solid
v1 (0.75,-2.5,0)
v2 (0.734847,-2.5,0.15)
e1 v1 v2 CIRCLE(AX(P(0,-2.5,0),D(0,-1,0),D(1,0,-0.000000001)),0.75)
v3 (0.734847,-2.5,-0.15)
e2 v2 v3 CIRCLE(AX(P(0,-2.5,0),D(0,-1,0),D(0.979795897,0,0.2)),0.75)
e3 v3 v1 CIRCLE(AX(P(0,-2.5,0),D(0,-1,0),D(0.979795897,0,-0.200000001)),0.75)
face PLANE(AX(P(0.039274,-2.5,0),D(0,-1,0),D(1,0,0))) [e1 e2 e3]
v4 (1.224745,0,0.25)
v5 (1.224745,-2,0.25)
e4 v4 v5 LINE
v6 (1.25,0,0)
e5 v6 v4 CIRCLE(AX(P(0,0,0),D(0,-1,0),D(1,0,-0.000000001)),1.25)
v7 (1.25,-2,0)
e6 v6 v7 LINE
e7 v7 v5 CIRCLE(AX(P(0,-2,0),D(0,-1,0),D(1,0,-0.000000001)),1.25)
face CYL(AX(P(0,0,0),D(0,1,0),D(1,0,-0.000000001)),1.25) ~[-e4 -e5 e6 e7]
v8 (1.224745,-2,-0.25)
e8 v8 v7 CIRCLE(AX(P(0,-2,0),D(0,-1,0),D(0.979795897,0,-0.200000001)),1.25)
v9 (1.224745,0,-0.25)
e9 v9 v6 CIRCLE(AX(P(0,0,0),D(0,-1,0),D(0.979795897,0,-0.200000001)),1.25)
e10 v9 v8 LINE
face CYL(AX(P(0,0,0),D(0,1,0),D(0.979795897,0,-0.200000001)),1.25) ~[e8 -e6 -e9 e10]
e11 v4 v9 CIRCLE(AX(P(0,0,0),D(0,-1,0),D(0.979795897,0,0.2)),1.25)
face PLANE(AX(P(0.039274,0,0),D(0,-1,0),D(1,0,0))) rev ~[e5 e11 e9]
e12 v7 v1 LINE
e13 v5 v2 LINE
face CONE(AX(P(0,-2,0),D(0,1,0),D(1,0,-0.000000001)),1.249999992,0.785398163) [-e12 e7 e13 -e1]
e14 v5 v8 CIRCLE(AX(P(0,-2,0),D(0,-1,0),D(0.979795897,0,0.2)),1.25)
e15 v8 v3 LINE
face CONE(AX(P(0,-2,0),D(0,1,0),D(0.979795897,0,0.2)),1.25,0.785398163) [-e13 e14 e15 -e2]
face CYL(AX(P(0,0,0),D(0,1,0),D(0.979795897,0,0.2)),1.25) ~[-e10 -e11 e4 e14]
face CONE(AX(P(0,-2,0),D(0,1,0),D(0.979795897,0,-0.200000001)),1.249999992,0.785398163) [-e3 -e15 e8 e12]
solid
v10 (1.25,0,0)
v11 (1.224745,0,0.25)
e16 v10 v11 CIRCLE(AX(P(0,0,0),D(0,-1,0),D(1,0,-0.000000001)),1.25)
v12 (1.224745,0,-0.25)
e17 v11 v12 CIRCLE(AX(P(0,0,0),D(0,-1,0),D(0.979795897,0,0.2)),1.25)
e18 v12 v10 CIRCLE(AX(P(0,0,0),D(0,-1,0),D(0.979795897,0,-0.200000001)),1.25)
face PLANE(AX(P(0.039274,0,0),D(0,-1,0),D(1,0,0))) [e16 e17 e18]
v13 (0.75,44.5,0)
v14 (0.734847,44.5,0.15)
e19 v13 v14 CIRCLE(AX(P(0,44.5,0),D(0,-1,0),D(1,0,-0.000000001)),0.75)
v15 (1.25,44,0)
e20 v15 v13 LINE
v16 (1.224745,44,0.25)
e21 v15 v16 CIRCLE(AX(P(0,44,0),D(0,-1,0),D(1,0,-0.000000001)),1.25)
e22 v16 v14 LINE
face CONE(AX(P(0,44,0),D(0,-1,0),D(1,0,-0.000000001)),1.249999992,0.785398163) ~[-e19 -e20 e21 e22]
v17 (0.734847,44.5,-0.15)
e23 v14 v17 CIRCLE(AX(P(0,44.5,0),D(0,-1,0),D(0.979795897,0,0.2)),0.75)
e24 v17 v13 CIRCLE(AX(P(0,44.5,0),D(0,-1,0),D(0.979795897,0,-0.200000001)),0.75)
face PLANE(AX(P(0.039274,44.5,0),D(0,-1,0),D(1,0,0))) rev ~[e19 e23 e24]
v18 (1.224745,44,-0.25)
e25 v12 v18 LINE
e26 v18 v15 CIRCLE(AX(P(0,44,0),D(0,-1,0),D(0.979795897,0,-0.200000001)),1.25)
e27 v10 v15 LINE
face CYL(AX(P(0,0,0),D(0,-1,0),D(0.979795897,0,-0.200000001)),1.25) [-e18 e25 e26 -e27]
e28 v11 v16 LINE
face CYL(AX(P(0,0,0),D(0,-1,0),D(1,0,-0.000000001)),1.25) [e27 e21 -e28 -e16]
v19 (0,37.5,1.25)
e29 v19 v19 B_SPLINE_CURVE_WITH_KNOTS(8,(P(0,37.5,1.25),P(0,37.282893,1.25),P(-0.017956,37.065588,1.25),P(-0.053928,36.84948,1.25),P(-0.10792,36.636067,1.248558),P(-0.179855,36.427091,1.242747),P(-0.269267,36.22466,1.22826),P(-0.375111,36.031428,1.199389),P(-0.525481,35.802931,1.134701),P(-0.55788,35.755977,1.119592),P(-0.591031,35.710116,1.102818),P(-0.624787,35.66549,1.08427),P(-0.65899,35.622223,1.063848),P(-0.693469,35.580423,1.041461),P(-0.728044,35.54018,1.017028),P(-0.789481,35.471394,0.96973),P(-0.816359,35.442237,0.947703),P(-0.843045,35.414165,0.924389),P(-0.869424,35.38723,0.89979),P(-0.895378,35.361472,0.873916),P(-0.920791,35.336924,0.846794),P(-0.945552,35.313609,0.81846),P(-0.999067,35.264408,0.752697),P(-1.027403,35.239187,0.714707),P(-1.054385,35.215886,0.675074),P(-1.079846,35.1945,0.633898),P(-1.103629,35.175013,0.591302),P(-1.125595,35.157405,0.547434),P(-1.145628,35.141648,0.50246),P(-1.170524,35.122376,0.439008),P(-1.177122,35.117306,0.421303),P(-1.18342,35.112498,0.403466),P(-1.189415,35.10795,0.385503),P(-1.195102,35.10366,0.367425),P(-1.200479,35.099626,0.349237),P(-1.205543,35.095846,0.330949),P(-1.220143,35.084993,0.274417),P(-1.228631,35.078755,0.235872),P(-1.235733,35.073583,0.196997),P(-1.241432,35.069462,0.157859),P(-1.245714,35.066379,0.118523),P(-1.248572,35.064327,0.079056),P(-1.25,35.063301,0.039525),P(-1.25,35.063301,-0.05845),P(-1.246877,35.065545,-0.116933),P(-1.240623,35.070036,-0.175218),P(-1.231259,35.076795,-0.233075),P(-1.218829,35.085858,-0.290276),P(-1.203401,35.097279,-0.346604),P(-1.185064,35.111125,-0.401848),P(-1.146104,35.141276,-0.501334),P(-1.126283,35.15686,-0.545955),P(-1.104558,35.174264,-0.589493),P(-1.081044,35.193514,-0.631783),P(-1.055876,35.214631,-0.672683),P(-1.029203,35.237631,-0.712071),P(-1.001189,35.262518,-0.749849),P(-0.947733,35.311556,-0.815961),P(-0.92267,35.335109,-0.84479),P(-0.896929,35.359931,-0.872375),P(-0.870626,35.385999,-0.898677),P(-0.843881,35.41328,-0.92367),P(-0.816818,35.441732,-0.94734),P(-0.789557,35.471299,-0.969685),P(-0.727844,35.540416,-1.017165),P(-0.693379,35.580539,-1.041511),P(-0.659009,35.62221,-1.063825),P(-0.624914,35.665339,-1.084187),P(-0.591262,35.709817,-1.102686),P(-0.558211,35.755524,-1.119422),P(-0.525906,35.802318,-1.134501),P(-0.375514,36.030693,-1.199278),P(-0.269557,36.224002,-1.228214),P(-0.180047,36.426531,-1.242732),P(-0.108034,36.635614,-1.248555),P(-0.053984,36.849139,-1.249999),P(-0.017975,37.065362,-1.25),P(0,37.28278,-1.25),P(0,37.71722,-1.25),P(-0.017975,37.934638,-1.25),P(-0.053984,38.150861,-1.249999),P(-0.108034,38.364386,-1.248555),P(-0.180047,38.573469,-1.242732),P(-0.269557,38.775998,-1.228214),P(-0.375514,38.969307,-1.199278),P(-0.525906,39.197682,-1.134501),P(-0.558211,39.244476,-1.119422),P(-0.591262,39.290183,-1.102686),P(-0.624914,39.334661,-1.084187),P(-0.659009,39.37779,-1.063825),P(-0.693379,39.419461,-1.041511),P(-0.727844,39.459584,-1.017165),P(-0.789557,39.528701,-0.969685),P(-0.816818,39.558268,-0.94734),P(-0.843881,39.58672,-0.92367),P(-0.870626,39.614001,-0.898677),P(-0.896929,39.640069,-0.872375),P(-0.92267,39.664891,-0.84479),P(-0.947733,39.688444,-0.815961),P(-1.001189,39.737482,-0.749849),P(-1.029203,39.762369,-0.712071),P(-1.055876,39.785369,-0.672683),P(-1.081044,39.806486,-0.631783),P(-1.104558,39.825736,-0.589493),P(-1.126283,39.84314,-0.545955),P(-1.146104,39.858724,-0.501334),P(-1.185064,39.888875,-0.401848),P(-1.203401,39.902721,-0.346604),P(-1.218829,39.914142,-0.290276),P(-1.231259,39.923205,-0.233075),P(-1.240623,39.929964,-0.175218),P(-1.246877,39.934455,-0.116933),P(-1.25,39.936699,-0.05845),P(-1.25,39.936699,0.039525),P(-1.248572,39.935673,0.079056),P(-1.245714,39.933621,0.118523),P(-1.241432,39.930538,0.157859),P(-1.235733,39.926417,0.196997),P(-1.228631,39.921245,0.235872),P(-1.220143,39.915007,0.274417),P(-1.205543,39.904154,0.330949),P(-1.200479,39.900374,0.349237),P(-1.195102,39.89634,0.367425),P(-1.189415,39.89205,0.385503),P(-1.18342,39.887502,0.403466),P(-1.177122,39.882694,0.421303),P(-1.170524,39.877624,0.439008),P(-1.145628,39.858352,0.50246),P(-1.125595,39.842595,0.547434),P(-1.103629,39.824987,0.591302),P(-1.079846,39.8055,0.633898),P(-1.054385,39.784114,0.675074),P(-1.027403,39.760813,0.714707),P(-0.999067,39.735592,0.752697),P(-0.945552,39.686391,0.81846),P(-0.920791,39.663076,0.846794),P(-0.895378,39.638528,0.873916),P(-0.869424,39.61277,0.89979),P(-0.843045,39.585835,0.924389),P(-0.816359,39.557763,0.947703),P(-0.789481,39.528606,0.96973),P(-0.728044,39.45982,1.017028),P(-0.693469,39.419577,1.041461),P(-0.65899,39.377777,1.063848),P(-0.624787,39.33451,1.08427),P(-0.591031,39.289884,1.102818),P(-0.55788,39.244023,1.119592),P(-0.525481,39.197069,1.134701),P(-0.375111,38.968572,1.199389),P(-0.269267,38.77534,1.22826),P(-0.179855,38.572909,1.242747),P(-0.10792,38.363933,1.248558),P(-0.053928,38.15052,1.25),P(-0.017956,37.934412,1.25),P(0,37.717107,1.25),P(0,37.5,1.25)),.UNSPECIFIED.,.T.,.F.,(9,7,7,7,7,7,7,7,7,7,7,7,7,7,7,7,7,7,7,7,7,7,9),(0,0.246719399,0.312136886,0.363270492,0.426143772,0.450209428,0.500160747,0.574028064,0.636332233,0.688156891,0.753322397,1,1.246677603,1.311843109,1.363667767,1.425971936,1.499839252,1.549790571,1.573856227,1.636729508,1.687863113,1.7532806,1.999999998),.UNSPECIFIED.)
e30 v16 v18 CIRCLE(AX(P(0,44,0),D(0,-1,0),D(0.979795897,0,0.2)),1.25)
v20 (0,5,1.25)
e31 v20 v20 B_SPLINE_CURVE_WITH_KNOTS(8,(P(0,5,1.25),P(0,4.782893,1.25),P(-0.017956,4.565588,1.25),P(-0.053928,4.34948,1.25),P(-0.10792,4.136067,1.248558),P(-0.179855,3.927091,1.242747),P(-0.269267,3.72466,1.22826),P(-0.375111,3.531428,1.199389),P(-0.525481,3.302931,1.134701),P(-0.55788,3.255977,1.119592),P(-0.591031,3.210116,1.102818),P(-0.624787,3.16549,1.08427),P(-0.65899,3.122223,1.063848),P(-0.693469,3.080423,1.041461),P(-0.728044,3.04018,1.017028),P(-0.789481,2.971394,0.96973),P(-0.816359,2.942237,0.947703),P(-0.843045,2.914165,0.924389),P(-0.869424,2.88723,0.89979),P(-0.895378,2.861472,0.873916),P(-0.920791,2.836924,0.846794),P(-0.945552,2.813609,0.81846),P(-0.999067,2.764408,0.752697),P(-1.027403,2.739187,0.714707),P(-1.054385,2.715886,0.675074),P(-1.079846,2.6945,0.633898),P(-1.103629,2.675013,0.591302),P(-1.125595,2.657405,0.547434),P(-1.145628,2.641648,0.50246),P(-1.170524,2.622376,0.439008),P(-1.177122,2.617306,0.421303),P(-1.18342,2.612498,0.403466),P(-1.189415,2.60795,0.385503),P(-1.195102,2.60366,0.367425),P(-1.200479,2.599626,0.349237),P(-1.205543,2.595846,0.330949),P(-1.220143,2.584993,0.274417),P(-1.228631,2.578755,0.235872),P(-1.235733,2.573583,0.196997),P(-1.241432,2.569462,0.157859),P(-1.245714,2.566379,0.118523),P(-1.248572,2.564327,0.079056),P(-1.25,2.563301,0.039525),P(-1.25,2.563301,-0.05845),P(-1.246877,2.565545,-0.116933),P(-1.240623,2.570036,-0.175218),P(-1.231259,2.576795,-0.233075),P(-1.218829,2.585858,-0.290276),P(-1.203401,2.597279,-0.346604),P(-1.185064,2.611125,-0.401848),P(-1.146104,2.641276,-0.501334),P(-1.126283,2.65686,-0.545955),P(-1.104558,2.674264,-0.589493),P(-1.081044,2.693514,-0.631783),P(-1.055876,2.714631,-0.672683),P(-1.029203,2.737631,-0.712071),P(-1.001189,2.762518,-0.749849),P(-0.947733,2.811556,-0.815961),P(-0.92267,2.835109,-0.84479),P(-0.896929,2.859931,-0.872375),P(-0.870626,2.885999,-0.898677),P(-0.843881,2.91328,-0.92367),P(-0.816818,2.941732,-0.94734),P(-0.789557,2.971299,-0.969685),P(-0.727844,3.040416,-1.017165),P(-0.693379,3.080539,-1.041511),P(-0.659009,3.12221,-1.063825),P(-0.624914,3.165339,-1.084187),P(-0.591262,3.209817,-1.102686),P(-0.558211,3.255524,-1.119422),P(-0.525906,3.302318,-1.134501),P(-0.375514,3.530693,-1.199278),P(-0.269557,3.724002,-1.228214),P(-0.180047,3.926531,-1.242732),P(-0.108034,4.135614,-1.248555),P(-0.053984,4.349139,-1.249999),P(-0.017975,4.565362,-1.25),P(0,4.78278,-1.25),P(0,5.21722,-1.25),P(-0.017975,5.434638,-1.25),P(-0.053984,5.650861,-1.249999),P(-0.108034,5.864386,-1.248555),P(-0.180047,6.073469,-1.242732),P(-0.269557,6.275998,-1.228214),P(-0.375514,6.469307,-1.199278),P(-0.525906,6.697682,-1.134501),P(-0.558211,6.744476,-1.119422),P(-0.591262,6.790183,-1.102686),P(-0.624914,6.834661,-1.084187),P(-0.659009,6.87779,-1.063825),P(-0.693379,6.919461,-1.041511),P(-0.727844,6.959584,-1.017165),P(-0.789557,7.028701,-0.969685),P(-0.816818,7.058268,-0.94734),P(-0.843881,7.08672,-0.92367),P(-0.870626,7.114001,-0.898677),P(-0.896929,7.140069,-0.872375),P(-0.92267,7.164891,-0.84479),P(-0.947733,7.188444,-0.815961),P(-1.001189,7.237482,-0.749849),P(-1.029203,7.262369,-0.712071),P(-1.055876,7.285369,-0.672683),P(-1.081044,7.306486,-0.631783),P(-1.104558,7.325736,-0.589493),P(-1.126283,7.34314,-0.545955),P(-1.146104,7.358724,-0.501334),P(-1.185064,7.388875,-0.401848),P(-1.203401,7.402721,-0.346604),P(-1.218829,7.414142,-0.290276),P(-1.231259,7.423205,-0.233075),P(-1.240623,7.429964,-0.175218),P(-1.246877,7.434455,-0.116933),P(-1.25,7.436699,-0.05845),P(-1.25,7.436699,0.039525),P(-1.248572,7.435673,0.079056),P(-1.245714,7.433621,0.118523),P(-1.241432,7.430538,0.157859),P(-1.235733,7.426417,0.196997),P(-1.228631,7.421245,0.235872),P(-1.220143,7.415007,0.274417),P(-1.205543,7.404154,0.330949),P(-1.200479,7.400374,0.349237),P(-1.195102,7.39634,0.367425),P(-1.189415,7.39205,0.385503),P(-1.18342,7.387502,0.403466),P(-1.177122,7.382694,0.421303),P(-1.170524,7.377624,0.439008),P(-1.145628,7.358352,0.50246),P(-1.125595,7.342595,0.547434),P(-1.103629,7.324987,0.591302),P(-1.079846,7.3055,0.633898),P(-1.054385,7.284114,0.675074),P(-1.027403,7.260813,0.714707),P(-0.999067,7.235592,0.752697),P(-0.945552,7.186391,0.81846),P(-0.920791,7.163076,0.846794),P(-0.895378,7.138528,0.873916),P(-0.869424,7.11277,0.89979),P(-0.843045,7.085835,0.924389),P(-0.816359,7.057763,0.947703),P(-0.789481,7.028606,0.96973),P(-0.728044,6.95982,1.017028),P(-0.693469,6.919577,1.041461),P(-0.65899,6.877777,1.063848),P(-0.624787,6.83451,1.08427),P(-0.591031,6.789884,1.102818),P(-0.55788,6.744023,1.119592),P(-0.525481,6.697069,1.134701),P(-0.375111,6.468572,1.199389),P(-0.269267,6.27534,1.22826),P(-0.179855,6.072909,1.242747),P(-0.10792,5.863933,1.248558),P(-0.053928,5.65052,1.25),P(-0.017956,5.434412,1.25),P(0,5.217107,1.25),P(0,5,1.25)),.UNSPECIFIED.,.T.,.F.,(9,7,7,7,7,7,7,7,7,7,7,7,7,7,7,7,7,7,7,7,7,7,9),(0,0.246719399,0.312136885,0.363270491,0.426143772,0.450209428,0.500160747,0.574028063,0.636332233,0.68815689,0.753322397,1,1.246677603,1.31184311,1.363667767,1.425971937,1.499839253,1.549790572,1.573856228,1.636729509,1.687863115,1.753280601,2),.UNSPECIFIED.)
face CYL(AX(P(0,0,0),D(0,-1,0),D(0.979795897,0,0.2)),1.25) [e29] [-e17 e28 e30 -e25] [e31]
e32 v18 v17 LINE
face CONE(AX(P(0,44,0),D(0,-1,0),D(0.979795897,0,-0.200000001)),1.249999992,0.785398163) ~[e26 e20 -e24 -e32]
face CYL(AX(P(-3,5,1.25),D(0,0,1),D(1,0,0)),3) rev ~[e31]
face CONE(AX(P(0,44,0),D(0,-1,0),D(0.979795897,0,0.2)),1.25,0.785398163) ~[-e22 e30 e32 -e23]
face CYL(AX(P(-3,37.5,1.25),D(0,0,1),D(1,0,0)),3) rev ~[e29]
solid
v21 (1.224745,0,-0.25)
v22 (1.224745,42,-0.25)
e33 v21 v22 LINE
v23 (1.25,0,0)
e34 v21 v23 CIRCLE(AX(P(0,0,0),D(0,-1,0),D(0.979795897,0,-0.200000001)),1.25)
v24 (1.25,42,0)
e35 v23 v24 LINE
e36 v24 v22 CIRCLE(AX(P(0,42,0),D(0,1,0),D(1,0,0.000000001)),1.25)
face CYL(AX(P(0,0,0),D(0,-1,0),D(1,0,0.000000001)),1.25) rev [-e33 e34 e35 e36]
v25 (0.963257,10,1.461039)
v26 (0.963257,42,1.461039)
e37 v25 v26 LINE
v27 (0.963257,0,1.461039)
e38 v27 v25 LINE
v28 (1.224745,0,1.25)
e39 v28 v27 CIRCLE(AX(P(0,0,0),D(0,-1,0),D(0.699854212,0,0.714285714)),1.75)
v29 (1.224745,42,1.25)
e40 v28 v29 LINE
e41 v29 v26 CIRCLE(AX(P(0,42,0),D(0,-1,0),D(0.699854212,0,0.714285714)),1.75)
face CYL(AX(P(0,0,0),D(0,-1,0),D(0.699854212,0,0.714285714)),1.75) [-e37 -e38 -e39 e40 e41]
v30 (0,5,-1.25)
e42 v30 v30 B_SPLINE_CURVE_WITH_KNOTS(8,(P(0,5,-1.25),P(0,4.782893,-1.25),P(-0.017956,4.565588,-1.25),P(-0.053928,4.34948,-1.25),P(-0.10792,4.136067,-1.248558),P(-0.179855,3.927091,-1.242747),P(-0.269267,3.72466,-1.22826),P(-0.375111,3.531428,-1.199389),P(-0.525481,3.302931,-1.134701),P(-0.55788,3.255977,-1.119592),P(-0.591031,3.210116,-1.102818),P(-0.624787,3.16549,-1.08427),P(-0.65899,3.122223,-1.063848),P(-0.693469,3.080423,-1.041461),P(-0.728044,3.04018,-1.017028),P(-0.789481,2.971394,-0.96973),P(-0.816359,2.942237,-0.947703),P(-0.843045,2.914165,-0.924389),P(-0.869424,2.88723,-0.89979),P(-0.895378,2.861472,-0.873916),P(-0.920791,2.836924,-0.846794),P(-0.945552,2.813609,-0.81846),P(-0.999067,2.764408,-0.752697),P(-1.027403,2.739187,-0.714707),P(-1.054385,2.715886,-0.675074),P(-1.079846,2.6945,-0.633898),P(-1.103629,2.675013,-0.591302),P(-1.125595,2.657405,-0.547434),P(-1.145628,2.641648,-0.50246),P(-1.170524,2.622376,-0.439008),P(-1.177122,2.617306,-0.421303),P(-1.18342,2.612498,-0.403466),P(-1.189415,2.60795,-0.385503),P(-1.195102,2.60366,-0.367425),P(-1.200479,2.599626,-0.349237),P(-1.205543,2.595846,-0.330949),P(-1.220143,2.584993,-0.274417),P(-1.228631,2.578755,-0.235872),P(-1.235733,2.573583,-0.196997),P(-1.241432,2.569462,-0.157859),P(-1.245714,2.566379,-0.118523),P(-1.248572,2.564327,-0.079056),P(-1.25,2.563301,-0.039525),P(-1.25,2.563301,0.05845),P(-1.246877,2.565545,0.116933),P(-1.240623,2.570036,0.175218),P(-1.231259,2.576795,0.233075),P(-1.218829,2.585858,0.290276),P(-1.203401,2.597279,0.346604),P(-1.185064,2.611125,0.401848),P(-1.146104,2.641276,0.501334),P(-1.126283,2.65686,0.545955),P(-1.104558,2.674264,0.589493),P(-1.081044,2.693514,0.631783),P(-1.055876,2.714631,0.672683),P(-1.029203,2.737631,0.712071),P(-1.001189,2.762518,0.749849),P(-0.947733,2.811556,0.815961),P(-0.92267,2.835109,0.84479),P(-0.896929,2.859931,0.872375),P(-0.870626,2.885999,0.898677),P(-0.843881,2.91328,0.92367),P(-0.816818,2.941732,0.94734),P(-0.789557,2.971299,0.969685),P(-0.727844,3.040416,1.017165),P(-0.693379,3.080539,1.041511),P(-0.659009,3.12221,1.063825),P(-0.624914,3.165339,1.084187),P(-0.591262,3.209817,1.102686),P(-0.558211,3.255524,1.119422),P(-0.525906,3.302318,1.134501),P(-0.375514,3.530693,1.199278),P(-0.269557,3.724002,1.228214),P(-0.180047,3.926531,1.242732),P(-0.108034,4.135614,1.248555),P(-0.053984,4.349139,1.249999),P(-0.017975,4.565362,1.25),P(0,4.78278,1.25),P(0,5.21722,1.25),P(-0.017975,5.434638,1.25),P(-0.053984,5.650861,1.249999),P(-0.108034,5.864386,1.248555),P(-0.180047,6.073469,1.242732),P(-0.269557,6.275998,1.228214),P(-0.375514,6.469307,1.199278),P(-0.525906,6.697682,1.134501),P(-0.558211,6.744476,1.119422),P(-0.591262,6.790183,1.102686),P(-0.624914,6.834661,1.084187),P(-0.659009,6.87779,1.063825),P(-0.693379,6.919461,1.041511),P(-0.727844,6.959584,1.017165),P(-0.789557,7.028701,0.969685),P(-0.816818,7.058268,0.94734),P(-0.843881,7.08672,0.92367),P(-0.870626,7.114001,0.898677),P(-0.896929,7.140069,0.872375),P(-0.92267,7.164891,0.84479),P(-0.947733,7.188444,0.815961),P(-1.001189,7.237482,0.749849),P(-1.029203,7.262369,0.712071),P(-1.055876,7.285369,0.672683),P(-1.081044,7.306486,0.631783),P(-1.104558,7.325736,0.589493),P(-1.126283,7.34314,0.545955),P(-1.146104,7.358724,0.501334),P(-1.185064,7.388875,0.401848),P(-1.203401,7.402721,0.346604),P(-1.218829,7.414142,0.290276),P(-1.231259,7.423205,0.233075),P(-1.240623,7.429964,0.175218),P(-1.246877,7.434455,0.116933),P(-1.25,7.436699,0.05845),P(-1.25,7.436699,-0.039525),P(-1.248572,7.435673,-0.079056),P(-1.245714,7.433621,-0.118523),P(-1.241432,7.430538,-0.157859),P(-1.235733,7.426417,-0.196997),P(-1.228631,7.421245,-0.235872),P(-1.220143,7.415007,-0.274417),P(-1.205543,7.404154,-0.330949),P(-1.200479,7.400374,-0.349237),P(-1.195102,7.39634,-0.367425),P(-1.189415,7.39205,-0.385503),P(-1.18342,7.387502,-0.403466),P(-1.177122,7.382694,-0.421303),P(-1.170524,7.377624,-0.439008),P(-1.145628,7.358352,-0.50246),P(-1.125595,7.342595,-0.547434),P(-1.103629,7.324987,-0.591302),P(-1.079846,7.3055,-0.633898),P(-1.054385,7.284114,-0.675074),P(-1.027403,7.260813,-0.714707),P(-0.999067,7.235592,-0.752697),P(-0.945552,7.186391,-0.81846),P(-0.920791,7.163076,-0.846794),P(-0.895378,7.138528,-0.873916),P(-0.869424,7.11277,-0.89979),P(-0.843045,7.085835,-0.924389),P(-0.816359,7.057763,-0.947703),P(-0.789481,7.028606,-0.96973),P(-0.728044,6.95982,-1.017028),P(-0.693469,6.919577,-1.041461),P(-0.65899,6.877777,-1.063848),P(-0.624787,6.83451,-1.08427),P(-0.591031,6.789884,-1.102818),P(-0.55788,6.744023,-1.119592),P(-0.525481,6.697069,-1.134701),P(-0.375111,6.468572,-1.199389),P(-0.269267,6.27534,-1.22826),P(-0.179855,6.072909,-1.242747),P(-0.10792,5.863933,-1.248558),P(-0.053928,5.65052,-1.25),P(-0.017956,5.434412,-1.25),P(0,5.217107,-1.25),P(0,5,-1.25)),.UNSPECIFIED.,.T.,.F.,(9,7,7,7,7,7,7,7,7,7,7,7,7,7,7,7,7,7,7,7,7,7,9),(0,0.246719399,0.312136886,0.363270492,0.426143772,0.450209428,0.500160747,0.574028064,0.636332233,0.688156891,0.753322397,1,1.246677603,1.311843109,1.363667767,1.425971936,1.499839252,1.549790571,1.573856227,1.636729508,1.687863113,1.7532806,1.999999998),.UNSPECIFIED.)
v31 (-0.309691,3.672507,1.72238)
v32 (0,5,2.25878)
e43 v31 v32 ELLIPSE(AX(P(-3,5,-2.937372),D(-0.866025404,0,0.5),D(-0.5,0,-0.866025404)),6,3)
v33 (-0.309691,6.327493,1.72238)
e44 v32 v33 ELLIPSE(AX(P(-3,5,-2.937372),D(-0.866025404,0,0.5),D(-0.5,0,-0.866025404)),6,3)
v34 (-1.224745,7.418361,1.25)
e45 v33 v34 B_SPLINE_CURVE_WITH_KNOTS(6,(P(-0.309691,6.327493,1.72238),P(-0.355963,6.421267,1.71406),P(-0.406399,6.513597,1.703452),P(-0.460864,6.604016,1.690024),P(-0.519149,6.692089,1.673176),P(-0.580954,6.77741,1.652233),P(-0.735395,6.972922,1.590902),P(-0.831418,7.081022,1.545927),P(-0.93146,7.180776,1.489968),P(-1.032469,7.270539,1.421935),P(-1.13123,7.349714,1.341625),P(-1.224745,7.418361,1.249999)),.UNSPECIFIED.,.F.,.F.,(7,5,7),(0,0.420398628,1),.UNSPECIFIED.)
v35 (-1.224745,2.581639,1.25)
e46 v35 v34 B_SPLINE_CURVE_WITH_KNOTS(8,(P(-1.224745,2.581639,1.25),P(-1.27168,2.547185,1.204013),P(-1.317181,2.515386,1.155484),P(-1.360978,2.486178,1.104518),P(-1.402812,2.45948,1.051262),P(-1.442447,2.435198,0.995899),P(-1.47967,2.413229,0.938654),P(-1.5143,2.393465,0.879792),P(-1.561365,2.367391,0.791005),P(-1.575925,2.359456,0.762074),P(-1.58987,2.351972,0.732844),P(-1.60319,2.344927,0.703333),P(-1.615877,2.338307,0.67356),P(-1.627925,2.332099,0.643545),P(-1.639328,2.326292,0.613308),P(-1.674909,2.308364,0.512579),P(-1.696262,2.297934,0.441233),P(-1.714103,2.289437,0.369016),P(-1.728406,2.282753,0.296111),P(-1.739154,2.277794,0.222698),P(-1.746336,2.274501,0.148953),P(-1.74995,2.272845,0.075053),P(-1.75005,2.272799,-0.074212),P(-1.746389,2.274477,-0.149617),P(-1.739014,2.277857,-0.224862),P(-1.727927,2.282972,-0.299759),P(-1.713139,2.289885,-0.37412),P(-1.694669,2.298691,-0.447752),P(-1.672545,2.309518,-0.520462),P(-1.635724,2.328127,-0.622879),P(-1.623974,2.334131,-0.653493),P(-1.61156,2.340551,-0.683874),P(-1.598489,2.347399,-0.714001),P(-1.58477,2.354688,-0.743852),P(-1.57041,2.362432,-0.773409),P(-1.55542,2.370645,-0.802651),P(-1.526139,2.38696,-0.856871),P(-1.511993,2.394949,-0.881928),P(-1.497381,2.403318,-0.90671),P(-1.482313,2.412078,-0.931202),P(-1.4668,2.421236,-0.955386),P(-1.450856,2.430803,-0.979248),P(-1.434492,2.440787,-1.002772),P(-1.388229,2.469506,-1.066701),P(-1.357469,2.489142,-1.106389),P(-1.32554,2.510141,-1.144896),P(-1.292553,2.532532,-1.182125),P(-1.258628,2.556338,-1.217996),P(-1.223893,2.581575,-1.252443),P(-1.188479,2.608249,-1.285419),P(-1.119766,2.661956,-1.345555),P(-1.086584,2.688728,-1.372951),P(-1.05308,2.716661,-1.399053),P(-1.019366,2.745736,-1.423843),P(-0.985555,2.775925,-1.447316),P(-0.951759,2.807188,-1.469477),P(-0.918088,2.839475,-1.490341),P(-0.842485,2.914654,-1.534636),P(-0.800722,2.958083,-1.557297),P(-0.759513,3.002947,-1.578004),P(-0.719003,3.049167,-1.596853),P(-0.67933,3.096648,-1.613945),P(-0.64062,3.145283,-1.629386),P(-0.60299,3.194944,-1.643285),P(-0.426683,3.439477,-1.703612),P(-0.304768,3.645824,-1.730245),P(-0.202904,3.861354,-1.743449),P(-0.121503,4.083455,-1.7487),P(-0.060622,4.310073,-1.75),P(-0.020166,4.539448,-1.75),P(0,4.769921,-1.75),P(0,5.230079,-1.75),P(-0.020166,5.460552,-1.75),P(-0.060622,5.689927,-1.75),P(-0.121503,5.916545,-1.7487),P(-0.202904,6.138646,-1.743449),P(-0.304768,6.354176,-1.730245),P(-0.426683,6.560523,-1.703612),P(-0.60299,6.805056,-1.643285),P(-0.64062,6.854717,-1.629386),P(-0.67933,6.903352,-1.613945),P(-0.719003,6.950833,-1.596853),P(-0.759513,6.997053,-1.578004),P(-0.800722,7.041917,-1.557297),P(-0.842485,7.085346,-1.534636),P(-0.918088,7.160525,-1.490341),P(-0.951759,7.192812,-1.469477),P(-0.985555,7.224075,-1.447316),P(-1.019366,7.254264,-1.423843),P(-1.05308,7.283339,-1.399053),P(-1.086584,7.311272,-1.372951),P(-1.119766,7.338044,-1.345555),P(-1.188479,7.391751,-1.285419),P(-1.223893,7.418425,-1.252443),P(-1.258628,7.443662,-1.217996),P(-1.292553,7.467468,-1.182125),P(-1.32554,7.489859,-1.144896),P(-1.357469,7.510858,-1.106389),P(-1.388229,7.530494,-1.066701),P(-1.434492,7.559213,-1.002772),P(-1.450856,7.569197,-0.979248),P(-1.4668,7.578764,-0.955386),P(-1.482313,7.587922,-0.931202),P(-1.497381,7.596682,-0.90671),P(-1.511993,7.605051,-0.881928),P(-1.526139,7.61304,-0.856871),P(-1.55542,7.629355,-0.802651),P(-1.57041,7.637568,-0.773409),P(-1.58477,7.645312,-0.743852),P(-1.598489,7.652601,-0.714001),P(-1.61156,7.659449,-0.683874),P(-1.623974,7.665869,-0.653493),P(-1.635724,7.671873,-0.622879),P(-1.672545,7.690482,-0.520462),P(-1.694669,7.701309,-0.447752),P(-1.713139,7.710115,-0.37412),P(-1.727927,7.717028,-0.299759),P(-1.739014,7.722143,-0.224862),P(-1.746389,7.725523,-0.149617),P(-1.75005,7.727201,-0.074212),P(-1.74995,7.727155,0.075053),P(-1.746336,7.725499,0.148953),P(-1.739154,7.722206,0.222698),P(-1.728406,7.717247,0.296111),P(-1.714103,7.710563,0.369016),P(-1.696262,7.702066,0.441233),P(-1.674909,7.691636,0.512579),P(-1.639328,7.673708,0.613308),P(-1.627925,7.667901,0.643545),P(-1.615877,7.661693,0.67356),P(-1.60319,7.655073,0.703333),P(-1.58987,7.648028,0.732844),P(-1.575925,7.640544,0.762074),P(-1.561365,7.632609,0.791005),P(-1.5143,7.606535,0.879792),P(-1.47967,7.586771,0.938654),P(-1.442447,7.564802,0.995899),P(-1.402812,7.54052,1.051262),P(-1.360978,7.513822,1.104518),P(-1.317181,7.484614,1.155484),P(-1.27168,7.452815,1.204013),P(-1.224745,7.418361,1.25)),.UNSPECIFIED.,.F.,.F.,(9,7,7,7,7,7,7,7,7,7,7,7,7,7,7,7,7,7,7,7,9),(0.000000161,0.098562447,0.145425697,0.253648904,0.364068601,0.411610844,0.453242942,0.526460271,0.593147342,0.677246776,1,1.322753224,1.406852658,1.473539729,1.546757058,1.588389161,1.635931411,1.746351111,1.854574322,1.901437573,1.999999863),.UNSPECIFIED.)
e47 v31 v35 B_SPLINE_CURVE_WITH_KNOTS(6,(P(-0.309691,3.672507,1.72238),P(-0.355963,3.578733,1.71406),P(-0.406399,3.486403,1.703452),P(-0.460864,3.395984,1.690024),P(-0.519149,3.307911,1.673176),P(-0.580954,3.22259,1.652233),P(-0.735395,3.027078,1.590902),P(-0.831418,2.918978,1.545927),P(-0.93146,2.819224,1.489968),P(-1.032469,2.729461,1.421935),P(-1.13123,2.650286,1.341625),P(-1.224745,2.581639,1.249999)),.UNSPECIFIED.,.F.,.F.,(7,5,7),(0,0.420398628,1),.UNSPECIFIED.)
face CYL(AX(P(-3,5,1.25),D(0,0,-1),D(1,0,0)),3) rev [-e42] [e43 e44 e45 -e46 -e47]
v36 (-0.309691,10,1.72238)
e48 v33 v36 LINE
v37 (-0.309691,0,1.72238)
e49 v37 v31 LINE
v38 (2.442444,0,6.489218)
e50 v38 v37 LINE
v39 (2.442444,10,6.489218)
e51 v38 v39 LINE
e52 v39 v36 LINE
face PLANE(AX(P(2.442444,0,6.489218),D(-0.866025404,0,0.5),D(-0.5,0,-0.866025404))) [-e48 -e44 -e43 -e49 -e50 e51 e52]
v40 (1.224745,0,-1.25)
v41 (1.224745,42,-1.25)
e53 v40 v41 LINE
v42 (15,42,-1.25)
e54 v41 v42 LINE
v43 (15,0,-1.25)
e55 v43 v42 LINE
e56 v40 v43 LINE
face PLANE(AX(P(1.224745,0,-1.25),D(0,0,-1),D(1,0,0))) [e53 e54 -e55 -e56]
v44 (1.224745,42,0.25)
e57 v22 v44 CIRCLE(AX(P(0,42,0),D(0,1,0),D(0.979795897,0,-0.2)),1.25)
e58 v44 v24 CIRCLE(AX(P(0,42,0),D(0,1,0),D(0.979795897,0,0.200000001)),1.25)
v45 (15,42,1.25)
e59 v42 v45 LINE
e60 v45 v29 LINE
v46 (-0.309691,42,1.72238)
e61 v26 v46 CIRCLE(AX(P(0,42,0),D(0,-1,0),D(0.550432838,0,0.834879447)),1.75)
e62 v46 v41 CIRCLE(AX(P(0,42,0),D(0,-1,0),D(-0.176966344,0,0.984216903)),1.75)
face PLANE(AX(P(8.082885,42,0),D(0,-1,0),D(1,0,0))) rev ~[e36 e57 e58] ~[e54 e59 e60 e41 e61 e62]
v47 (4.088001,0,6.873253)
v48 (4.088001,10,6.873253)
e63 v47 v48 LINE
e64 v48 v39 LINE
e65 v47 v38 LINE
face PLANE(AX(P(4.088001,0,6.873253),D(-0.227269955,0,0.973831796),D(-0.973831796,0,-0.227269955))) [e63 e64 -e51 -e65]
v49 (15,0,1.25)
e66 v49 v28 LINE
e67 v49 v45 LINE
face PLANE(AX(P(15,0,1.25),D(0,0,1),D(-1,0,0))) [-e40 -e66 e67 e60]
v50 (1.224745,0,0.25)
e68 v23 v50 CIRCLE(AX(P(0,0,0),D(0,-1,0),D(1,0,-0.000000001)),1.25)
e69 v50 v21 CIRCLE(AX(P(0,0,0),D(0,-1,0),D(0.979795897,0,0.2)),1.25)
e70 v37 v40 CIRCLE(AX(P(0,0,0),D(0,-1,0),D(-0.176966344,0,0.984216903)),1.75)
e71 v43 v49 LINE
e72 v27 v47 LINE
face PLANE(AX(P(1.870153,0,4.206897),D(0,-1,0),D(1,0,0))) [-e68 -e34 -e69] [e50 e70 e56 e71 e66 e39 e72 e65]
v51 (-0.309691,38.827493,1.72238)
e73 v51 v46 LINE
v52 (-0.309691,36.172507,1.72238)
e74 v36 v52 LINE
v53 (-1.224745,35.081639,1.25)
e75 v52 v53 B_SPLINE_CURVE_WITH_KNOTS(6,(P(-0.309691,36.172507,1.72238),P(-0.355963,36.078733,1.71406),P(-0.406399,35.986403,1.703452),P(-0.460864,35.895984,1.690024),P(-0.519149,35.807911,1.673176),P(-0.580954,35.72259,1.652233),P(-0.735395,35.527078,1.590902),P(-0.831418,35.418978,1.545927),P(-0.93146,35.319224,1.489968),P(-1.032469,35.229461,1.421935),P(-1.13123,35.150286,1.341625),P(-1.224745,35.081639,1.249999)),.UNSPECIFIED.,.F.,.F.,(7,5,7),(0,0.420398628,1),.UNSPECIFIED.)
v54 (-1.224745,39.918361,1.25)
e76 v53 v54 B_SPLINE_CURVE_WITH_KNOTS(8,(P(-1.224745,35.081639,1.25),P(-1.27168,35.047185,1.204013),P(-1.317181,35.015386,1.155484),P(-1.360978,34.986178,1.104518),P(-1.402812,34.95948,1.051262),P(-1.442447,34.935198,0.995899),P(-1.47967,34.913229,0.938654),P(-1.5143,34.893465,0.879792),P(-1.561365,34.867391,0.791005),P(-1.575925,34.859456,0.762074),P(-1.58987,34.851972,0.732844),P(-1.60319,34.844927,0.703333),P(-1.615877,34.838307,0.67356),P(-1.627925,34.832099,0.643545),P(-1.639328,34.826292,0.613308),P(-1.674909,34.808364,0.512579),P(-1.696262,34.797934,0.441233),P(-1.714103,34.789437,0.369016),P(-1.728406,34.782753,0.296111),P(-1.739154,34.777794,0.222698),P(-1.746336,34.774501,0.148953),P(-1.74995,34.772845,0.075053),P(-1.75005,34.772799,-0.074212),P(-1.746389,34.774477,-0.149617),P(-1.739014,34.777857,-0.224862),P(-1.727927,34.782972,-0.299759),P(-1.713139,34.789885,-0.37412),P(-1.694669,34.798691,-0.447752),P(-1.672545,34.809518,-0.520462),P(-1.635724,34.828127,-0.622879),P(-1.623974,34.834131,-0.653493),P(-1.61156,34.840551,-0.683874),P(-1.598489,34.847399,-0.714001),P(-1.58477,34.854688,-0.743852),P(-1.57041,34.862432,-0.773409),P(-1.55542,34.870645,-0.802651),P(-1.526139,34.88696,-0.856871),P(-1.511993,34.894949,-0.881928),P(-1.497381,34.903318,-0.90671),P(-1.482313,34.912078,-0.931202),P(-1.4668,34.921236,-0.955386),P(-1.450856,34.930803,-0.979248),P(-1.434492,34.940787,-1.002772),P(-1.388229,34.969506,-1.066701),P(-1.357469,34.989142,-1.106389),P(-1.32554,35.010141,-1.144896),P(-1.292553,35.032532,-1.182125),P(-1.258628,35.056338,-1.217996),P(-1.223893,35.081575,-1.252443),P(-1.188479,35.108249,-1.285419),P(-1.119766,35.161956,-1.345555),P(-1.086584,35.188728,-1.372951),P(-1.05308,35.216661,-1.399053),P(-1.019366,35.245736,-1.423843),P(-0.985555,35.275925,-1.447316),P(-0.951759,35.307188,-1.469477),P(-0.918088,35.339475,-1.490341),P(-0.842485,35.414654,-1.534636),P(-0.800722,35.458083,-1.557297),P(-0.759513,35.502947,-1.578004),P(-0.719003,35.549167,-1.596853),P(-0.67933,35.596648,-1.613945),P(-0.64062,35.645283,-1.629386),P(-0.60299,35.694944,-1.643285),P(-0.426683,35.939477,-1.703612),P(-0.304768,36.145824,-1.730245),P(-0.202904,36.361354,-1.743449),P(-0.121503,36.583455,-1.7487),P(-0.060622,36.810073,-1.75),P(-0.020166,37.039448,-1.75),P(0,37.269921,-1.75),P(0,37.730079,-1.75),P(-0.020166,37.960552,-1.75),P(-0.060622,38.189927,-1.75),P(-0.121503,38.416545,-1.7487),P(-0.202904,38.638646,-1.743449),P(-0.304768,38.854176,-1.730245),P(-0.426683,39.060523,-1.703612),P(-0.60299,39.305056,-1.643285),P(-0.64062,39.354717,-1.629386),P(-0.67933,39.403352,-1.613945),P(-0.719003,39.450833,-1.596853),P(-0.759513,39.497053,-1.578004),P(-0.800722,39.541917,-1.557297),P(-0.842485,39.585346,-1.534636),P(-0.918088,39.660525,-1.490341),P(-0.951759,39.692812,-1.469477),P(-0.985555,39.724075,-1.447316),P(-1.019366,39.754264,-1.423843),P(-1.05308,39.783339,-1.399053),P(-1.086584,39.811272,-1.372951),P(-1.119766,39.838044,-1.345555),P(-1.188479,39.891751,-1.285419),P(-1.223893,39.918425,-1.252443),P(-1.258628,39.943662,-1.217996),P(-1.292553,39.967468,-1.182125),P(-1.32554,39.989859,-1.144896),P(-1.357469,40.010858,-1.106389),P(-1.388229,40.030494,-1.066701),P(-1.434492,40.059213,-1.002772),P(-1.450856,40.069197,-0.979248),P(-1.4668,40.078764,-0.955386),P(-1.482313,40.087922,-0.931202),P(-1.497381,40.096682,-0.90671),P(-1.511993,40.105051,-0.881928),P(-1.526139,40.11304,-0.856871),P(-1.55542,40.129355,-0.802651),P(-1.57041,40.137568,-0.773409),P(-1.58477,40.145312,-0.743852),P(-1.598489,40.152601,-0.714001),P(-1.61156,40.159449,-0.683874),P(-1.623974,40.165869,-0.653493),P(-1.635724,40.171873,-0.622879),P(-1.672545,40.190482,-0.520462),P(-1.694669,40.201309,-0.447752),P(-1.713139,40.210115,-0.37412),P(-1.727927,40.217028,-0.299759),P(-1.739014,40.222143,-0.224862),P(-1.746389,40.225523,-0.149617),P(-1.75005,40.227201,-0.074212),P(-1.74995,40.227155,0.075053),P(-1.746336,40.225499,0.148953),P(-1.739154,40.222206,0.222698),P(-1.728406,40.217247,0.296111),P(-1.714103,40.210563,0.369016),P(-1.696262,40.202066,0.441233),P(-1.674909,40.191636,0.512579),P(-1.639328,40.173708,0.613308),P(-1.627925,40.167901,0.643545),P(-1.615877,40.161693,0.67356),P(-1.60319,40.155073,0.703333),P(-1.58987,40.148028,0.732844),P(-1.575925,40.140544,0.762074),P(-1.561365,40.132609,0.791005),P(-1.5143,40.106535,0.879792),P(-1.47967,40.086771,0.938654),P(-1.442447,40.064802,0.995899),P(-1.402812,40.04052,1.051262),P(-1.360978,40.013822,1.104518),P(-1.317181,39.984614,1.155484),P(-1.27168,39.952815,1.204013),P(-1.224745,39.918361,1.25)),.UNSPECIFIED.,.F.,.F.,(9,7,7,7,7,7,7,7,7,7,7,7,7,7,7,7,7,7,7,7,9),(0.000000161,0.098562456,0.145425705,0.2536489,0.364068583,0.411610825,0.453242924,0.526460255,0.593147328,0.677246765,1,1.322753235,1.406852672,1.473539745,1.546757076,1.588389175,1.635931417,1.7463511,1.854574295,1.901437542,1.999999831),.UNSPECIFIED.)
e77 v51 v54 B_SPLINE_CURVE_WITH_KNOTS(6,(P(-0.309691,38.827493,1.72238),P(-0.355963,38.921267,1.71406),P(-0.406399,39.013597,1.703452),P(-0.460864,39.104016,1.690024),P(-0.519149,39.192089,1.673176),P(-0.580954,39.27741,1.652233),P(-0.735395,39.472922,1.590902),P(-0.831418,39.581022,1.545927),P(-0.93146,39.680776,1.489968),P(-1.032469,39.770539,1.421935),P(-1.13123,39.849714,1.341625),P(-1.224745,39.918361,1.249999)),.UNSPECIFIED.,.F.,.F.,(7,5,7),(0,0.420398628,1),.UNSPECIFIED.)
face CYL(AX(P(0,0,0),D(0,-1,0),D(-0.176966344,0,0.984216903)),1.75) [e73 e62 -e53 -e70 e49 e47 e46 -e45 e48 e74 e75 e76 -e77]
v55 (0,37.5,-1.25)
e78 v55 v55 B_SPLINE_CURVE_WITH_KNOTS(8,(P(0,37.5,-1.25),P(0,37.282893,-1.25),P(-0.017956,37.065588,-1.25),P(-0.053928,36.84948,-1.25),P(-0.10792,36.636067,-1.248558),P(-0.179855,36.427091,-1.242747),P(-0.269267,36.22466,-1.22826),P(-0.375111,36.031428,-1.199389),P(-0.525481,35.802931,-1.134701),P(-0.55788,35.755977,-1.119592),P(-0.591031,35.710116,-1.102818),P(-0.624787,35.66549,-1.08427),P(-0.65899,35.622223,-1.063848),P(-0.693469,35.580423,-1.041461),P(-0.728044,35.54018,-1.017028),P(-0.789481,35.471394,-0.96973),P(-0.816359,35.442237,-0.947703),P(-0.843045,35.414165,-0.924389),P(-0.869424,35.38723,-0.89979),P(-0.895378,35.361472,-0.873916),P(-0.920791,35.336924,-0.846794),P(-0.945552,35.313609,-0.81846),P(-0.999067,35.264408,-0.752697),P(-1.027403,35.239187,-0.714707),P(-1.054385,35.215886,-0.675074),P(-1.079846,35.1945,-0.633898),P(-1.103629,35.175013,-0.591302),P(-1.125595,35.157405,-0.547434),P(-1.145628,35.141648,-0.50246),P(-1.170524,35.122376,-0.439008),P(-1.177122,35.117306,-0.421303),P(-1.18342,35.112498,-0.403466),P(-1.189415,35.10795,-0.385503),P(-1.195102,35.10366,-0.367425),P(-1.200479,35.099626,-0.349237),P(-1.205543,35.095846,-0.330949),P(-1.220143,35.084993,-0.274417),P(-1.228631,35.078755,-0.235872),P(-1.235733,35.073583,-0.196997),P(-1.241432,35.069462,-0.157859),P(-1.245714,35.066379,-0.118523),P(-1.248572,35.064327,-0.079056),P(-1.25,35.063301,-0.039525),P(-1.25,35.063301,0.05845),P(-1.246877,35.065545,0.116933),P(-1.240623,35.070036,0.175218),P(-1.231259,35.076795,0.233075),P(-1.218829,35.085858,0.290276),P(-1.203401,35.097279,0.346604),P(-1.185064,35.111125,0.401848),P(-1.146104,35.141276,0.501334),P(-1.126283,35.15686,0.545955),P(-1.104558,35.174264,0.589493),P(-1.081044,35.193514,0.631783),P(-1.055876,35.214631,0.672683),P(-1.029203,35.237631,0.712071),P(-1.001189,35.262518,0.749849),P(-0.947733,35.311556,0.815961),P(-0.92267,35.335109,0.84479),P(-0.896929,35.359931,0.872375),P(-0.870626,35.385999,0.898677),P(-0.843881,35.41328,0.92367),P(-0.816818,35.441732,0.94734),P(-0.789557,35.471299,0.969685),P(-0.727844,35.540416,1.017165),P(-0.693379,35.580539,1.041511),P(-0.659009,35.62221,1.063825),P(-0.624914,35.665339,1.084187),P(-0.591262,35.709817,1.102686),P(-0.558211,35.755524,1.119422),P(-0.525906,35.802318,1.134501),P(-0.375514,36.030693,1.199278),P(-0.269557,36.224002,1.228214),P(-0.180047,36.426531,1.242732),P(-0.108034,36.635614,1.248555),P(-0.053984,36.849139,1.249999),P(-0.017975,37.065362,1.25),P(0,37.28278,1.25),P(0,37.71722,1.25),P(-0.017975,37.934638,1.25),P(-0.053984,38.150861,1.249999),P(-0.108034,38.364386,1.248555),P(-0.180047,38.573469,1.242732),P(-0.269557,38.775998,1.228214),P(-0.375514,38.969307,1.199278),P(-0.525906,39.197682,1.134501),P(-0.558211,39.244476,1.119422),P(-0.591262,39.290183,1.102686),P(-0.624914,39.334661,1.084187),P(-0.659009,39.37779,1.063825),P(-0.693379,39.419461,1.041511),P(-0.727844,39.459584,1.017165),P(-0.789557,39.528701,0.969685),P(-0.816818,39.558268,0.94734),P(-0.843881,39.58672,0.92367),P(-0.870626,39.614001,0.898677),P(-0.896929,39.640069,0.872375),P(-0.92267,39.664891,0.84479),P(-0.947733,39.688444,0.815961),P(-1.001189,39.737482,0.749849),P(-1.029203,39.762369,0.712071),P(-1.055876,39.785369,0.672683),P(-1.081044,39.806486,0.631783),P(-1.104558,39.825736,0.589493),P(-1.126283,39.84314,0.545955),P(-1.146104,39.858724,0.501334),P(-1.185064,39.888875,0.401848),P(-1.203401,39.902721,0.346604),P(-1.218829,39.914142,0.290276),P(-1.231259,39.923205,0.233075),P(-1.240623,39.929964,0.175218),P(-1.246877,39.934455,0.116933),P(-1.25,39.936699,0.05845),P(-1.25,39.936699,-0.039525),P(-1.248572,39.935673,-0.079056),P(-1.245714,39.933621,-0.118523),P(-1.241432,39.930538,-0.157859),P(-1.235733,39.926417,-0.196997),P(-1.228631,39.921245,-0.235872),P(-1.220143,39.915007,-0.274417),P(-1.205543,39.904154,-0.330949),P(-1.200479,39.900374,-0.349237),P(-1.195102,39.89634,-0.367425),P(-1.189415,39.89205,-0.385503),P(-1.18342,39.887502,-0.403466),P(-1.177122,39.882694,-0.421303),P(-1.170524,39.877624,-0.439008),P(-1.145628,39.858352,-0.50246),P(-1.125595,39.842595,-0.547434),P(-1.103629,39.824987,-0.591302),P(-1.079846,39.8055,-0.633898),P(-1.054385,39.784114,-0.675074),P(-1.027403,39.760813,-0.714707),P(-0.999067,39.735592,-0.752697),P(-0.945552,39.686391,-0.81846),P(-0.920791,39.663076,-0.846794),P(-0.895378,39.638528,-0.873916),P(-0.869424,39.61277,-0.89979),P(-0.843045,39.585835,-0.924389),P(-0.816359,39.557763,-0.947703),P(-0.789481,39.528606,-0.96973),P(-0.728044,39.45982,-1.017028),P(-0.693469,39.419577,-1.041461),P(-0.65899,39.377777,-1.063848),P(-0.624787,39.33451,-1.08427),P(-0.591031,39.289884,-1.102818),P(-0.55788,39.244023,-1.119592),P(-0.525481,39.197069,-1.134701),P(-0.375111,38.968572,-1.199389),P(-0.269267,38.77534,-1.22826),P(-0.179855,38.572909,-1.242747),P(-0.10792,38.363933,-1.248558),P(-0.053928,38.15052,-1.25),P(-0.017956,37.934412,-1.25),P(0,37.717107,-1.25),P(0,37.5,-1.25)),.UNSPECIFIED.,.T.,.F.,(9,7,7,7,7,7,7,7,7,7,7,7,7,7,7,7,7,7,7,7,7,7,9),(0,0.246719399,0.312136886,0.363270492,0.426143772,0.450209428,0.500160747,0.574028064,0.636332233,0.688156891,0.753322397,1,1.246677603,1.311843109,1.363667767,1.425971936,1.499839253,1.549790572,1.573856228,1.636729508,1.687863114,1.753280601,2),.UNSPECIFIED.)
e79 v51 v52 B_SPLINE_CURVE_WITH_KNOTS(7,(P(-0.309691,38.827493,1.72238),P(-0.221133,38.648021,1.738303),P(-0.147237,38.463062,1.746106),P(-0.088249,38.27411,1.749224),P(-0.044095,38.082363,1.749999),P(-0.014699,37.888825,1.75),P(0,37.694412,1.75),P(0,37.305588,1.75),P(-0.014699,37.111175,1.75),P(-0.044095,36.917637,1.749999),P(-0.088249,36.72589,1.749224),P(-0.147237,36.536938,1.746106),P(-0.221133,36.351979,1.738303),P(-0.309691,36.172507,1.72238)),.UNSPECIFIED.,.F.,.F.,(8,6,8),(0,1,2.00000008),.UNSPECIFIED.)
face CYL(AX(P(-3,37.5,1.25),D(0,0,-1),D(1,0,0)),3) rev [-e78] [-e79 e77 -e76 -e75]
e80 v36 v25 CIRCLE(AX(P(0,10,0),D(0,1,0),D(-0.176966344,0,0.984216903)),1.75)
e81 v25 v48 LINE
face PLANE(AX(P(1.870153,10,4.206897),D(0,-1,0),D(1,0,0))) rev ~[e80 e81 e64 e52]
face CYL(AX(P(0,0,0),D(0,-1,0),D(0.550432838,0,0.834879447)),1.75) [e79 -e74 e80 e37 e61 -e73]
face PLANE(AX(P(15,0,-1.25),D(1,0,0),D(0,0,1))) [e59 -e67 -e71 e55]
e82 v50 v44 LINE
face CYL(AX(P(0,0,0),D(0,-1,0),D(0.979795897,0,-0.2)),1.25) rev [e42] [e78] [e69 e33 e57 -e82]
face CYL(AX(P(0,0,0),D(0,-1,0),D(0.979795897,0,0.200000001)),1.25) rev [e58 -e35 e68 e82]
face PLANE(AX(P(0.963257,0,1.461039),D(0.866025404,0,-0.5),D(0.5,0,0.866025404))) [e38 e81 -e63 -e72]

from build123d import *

# Parameters (mm, degrees)
F1_DEPTH      = 2.5
F2_SIZE       = 0.5
F3_DEPTH      = 42
F4_DEPTH      = 44.5
F5_SIZE       = 0.5
F7_DEPTH      = 10
F6_R          = 3
F8_DEPTH      = 10
F8_DEPTH_BACK = 10


with BuildPart() as f1:
    # F0 (on Front) → F1 (new body)
    with BuildSketch(Plane.XZ):
        with BuildLine():
            Line((1.2247448714, -0.25), (1.2247448714, 0.25))
            ThreePointArc((1.2247448714, 0.25), (-1.25, 0), (1.2247448714, -0.25))
        make_face()
        with BuildLine():
            ThreePointArc((1.25, 0), (1.2436701913, 0.1256362025), (1.2247448714, 0.25))
            Line((1.2247448714, 0.25), (1.2247448714, -0.25))
            ThreePointArc((1.2247448714, -0.25), (1.2436701913, -0.1256362025), (1.25, 0))
        make_face()
    extrude(amount=F1_DEPTH)

    # F2
    f2_edges = [f1.edges().sort_by_distance(p)[0] for p in [
        (-1.224745, -2.5, 0.25),
    ]]
    chamfer(f2_edges, length=F2_SIZE)

    # F0 (on Front) → F3 (join)
    with BuildSketch(Plane.XZ):
        with BuildLine():
            ThreePointArc((1.2247448714, 1.25), (1.6133510971, 0.6779367504), (1.75, 0))
            ThreePointArc((1.75, 0), (1.6133510971, -0.6779367504), (1.2247448714, -1.25))
            Line((1.2247448714, -1.25), (15, -1.25))
            Line((15, -1.25), (15, 1.25))
            Line((15, 1.25), (1.2247448714, 1.25))
        make_face()
        with BuildLine():
            Line((1.2247448714, 0.25), (1.2247448714, 1.25))
            ThreePointArc((1.2247448714, 1.25), (1.0990782163, 1.3618102197), (0.9632574662, 1.4610390323))
            ThreePointArc((0.9632574662, 1.4610390323), (0.3519402911, 1.7142456159), (-0.3096911027, 1.722379581))
            ThreePointArc((-0.3096911027, 1.722379581), (-1.5550212035, -0.8027509307), (1.2247448714, -1.25))
            Line((1.2247448714, -1.25), (1.2247448714, -0.25))
            ThreePointArc((1.2247448714, -0.25), (-1.25, 0), (1.2247448714, 0.25))
        make_face()
        with BuildLine():
            ThreePointArc((1.2247448714, -1.25), (1.6133510971, -0.6779367504), (1.75, 0))
            ThreePointArc((1.75, 0), (1.6133510971, 0.6779367504), (1.2247448714, 1.25))
            Line((1.2247448714, 1.25), (1.2247448714, 0.25))
            ThreePointArc((1.2247448714, 0.25), (1.2436701913, 0.1256362025), (1.25, 0))
            ThreePointArc((1.25, 0), (1.2436701913, -0.1256362025), (1.2247448714, -0.25))
            Line((1.2247448714, -0.25), (1.2247448714, -1.25))
        make_face()
    extrude(amount=-F3_DEPTH)

    # F0 (on Front) → F7 (join)
    with BuildSketch(Plane.XZ):
        with BuildLine():
            ThreePointArc((-0.3096911027, 1.722379581), (0.3519402911, 1.7142456159), (0.9632574662, 1.4610390323))
            Line((0.9632574662, 1.4610390323), (4.0880007002, 6.8732530742))
            Line((4.0880007002, 6.8732530742), (2.4424443742, 6.4892180562))
            Line((2.4424443742, 6.4892180562), (-0.3096911027, 1.722379581))
        make_face()
    extrude(amount=-F7_DEPTH)


with BuildPart() as f4:
    # F0 (on Front) → F4 (new body)
    with BuildSketch(Plane.XZ):
        with BuildLine():
            Line((1.2247448714, -0.25), (1.2247448714, 0.25))
            ThreePointArc((1.2247448714, 0.25), (-1.25, 0), (1.2247448714, -0.25))
        make_face()
        with BuildLine():
            ThreePointArc((1.25, 0), (1.2436701913, 0.1256362025), (1.2247448714, 0.25))
            Line((1.2247448714, 0.25), (1.2247448714, -0.25))
            ThreePointArc((1.2247448714, -0.25), (1.2436701913, -0.1256362025), (1.25, 0))
        make_face()
    extrude(amount=-F4_DEPTH)

    # F5
    f5_edges = [f4.edges().sort_by_distance(p)[0] for p in [
        (-1.224745, 44.5, 0.25),
    ]]
    chamfer(f5_edges, length=F5_SIZE)


with BuildPart() as f8_tool:
    # F6 (on face) → F8 (new body, two sides)
    with BuildSketch(Plane.XY.offset(1.25)) as f8_sk:
        with Locations((-3, 37.5)):
            Circle(F6_R)
        with Locations((-3, 5)):
            Circle(F6_R)
    extrude(amount=-F8_DEPTH)
    extrude(f8_sk.sketch, amount=F8_DEPTH_BACK)


with BuildPart() as f1_1:
    add(f1.part)

    # F8: cut by f8_tool
    add(f8_tool.part, mode=Mode.SUBTRACT)

    # F9: F1, F4 across face


with BuildPart() as f4_1:
    add(f4.part)

    # F8: cut by f8_tool
    add(f8_tool.part, mode=Mode.SUBTRACT)


with BuildPart() as f1_2:
    add(f1_1.part)
    add(f1_1.part.mirror(Plane(origin=(15, 21, 0), x_dir=(0, 1, 0), z_dir=(1, 0, 0))), mode=Mode.SUBTRACT)
    add(f4_1.part.mirror(Plane(origin=(15, 21, 0), x_dir=(0, 1, 0), z_dir=(1, 0, 0))), mode=Mode.SUBTRACT)


solid = Compound([f4_1.part, f1_2.part])
